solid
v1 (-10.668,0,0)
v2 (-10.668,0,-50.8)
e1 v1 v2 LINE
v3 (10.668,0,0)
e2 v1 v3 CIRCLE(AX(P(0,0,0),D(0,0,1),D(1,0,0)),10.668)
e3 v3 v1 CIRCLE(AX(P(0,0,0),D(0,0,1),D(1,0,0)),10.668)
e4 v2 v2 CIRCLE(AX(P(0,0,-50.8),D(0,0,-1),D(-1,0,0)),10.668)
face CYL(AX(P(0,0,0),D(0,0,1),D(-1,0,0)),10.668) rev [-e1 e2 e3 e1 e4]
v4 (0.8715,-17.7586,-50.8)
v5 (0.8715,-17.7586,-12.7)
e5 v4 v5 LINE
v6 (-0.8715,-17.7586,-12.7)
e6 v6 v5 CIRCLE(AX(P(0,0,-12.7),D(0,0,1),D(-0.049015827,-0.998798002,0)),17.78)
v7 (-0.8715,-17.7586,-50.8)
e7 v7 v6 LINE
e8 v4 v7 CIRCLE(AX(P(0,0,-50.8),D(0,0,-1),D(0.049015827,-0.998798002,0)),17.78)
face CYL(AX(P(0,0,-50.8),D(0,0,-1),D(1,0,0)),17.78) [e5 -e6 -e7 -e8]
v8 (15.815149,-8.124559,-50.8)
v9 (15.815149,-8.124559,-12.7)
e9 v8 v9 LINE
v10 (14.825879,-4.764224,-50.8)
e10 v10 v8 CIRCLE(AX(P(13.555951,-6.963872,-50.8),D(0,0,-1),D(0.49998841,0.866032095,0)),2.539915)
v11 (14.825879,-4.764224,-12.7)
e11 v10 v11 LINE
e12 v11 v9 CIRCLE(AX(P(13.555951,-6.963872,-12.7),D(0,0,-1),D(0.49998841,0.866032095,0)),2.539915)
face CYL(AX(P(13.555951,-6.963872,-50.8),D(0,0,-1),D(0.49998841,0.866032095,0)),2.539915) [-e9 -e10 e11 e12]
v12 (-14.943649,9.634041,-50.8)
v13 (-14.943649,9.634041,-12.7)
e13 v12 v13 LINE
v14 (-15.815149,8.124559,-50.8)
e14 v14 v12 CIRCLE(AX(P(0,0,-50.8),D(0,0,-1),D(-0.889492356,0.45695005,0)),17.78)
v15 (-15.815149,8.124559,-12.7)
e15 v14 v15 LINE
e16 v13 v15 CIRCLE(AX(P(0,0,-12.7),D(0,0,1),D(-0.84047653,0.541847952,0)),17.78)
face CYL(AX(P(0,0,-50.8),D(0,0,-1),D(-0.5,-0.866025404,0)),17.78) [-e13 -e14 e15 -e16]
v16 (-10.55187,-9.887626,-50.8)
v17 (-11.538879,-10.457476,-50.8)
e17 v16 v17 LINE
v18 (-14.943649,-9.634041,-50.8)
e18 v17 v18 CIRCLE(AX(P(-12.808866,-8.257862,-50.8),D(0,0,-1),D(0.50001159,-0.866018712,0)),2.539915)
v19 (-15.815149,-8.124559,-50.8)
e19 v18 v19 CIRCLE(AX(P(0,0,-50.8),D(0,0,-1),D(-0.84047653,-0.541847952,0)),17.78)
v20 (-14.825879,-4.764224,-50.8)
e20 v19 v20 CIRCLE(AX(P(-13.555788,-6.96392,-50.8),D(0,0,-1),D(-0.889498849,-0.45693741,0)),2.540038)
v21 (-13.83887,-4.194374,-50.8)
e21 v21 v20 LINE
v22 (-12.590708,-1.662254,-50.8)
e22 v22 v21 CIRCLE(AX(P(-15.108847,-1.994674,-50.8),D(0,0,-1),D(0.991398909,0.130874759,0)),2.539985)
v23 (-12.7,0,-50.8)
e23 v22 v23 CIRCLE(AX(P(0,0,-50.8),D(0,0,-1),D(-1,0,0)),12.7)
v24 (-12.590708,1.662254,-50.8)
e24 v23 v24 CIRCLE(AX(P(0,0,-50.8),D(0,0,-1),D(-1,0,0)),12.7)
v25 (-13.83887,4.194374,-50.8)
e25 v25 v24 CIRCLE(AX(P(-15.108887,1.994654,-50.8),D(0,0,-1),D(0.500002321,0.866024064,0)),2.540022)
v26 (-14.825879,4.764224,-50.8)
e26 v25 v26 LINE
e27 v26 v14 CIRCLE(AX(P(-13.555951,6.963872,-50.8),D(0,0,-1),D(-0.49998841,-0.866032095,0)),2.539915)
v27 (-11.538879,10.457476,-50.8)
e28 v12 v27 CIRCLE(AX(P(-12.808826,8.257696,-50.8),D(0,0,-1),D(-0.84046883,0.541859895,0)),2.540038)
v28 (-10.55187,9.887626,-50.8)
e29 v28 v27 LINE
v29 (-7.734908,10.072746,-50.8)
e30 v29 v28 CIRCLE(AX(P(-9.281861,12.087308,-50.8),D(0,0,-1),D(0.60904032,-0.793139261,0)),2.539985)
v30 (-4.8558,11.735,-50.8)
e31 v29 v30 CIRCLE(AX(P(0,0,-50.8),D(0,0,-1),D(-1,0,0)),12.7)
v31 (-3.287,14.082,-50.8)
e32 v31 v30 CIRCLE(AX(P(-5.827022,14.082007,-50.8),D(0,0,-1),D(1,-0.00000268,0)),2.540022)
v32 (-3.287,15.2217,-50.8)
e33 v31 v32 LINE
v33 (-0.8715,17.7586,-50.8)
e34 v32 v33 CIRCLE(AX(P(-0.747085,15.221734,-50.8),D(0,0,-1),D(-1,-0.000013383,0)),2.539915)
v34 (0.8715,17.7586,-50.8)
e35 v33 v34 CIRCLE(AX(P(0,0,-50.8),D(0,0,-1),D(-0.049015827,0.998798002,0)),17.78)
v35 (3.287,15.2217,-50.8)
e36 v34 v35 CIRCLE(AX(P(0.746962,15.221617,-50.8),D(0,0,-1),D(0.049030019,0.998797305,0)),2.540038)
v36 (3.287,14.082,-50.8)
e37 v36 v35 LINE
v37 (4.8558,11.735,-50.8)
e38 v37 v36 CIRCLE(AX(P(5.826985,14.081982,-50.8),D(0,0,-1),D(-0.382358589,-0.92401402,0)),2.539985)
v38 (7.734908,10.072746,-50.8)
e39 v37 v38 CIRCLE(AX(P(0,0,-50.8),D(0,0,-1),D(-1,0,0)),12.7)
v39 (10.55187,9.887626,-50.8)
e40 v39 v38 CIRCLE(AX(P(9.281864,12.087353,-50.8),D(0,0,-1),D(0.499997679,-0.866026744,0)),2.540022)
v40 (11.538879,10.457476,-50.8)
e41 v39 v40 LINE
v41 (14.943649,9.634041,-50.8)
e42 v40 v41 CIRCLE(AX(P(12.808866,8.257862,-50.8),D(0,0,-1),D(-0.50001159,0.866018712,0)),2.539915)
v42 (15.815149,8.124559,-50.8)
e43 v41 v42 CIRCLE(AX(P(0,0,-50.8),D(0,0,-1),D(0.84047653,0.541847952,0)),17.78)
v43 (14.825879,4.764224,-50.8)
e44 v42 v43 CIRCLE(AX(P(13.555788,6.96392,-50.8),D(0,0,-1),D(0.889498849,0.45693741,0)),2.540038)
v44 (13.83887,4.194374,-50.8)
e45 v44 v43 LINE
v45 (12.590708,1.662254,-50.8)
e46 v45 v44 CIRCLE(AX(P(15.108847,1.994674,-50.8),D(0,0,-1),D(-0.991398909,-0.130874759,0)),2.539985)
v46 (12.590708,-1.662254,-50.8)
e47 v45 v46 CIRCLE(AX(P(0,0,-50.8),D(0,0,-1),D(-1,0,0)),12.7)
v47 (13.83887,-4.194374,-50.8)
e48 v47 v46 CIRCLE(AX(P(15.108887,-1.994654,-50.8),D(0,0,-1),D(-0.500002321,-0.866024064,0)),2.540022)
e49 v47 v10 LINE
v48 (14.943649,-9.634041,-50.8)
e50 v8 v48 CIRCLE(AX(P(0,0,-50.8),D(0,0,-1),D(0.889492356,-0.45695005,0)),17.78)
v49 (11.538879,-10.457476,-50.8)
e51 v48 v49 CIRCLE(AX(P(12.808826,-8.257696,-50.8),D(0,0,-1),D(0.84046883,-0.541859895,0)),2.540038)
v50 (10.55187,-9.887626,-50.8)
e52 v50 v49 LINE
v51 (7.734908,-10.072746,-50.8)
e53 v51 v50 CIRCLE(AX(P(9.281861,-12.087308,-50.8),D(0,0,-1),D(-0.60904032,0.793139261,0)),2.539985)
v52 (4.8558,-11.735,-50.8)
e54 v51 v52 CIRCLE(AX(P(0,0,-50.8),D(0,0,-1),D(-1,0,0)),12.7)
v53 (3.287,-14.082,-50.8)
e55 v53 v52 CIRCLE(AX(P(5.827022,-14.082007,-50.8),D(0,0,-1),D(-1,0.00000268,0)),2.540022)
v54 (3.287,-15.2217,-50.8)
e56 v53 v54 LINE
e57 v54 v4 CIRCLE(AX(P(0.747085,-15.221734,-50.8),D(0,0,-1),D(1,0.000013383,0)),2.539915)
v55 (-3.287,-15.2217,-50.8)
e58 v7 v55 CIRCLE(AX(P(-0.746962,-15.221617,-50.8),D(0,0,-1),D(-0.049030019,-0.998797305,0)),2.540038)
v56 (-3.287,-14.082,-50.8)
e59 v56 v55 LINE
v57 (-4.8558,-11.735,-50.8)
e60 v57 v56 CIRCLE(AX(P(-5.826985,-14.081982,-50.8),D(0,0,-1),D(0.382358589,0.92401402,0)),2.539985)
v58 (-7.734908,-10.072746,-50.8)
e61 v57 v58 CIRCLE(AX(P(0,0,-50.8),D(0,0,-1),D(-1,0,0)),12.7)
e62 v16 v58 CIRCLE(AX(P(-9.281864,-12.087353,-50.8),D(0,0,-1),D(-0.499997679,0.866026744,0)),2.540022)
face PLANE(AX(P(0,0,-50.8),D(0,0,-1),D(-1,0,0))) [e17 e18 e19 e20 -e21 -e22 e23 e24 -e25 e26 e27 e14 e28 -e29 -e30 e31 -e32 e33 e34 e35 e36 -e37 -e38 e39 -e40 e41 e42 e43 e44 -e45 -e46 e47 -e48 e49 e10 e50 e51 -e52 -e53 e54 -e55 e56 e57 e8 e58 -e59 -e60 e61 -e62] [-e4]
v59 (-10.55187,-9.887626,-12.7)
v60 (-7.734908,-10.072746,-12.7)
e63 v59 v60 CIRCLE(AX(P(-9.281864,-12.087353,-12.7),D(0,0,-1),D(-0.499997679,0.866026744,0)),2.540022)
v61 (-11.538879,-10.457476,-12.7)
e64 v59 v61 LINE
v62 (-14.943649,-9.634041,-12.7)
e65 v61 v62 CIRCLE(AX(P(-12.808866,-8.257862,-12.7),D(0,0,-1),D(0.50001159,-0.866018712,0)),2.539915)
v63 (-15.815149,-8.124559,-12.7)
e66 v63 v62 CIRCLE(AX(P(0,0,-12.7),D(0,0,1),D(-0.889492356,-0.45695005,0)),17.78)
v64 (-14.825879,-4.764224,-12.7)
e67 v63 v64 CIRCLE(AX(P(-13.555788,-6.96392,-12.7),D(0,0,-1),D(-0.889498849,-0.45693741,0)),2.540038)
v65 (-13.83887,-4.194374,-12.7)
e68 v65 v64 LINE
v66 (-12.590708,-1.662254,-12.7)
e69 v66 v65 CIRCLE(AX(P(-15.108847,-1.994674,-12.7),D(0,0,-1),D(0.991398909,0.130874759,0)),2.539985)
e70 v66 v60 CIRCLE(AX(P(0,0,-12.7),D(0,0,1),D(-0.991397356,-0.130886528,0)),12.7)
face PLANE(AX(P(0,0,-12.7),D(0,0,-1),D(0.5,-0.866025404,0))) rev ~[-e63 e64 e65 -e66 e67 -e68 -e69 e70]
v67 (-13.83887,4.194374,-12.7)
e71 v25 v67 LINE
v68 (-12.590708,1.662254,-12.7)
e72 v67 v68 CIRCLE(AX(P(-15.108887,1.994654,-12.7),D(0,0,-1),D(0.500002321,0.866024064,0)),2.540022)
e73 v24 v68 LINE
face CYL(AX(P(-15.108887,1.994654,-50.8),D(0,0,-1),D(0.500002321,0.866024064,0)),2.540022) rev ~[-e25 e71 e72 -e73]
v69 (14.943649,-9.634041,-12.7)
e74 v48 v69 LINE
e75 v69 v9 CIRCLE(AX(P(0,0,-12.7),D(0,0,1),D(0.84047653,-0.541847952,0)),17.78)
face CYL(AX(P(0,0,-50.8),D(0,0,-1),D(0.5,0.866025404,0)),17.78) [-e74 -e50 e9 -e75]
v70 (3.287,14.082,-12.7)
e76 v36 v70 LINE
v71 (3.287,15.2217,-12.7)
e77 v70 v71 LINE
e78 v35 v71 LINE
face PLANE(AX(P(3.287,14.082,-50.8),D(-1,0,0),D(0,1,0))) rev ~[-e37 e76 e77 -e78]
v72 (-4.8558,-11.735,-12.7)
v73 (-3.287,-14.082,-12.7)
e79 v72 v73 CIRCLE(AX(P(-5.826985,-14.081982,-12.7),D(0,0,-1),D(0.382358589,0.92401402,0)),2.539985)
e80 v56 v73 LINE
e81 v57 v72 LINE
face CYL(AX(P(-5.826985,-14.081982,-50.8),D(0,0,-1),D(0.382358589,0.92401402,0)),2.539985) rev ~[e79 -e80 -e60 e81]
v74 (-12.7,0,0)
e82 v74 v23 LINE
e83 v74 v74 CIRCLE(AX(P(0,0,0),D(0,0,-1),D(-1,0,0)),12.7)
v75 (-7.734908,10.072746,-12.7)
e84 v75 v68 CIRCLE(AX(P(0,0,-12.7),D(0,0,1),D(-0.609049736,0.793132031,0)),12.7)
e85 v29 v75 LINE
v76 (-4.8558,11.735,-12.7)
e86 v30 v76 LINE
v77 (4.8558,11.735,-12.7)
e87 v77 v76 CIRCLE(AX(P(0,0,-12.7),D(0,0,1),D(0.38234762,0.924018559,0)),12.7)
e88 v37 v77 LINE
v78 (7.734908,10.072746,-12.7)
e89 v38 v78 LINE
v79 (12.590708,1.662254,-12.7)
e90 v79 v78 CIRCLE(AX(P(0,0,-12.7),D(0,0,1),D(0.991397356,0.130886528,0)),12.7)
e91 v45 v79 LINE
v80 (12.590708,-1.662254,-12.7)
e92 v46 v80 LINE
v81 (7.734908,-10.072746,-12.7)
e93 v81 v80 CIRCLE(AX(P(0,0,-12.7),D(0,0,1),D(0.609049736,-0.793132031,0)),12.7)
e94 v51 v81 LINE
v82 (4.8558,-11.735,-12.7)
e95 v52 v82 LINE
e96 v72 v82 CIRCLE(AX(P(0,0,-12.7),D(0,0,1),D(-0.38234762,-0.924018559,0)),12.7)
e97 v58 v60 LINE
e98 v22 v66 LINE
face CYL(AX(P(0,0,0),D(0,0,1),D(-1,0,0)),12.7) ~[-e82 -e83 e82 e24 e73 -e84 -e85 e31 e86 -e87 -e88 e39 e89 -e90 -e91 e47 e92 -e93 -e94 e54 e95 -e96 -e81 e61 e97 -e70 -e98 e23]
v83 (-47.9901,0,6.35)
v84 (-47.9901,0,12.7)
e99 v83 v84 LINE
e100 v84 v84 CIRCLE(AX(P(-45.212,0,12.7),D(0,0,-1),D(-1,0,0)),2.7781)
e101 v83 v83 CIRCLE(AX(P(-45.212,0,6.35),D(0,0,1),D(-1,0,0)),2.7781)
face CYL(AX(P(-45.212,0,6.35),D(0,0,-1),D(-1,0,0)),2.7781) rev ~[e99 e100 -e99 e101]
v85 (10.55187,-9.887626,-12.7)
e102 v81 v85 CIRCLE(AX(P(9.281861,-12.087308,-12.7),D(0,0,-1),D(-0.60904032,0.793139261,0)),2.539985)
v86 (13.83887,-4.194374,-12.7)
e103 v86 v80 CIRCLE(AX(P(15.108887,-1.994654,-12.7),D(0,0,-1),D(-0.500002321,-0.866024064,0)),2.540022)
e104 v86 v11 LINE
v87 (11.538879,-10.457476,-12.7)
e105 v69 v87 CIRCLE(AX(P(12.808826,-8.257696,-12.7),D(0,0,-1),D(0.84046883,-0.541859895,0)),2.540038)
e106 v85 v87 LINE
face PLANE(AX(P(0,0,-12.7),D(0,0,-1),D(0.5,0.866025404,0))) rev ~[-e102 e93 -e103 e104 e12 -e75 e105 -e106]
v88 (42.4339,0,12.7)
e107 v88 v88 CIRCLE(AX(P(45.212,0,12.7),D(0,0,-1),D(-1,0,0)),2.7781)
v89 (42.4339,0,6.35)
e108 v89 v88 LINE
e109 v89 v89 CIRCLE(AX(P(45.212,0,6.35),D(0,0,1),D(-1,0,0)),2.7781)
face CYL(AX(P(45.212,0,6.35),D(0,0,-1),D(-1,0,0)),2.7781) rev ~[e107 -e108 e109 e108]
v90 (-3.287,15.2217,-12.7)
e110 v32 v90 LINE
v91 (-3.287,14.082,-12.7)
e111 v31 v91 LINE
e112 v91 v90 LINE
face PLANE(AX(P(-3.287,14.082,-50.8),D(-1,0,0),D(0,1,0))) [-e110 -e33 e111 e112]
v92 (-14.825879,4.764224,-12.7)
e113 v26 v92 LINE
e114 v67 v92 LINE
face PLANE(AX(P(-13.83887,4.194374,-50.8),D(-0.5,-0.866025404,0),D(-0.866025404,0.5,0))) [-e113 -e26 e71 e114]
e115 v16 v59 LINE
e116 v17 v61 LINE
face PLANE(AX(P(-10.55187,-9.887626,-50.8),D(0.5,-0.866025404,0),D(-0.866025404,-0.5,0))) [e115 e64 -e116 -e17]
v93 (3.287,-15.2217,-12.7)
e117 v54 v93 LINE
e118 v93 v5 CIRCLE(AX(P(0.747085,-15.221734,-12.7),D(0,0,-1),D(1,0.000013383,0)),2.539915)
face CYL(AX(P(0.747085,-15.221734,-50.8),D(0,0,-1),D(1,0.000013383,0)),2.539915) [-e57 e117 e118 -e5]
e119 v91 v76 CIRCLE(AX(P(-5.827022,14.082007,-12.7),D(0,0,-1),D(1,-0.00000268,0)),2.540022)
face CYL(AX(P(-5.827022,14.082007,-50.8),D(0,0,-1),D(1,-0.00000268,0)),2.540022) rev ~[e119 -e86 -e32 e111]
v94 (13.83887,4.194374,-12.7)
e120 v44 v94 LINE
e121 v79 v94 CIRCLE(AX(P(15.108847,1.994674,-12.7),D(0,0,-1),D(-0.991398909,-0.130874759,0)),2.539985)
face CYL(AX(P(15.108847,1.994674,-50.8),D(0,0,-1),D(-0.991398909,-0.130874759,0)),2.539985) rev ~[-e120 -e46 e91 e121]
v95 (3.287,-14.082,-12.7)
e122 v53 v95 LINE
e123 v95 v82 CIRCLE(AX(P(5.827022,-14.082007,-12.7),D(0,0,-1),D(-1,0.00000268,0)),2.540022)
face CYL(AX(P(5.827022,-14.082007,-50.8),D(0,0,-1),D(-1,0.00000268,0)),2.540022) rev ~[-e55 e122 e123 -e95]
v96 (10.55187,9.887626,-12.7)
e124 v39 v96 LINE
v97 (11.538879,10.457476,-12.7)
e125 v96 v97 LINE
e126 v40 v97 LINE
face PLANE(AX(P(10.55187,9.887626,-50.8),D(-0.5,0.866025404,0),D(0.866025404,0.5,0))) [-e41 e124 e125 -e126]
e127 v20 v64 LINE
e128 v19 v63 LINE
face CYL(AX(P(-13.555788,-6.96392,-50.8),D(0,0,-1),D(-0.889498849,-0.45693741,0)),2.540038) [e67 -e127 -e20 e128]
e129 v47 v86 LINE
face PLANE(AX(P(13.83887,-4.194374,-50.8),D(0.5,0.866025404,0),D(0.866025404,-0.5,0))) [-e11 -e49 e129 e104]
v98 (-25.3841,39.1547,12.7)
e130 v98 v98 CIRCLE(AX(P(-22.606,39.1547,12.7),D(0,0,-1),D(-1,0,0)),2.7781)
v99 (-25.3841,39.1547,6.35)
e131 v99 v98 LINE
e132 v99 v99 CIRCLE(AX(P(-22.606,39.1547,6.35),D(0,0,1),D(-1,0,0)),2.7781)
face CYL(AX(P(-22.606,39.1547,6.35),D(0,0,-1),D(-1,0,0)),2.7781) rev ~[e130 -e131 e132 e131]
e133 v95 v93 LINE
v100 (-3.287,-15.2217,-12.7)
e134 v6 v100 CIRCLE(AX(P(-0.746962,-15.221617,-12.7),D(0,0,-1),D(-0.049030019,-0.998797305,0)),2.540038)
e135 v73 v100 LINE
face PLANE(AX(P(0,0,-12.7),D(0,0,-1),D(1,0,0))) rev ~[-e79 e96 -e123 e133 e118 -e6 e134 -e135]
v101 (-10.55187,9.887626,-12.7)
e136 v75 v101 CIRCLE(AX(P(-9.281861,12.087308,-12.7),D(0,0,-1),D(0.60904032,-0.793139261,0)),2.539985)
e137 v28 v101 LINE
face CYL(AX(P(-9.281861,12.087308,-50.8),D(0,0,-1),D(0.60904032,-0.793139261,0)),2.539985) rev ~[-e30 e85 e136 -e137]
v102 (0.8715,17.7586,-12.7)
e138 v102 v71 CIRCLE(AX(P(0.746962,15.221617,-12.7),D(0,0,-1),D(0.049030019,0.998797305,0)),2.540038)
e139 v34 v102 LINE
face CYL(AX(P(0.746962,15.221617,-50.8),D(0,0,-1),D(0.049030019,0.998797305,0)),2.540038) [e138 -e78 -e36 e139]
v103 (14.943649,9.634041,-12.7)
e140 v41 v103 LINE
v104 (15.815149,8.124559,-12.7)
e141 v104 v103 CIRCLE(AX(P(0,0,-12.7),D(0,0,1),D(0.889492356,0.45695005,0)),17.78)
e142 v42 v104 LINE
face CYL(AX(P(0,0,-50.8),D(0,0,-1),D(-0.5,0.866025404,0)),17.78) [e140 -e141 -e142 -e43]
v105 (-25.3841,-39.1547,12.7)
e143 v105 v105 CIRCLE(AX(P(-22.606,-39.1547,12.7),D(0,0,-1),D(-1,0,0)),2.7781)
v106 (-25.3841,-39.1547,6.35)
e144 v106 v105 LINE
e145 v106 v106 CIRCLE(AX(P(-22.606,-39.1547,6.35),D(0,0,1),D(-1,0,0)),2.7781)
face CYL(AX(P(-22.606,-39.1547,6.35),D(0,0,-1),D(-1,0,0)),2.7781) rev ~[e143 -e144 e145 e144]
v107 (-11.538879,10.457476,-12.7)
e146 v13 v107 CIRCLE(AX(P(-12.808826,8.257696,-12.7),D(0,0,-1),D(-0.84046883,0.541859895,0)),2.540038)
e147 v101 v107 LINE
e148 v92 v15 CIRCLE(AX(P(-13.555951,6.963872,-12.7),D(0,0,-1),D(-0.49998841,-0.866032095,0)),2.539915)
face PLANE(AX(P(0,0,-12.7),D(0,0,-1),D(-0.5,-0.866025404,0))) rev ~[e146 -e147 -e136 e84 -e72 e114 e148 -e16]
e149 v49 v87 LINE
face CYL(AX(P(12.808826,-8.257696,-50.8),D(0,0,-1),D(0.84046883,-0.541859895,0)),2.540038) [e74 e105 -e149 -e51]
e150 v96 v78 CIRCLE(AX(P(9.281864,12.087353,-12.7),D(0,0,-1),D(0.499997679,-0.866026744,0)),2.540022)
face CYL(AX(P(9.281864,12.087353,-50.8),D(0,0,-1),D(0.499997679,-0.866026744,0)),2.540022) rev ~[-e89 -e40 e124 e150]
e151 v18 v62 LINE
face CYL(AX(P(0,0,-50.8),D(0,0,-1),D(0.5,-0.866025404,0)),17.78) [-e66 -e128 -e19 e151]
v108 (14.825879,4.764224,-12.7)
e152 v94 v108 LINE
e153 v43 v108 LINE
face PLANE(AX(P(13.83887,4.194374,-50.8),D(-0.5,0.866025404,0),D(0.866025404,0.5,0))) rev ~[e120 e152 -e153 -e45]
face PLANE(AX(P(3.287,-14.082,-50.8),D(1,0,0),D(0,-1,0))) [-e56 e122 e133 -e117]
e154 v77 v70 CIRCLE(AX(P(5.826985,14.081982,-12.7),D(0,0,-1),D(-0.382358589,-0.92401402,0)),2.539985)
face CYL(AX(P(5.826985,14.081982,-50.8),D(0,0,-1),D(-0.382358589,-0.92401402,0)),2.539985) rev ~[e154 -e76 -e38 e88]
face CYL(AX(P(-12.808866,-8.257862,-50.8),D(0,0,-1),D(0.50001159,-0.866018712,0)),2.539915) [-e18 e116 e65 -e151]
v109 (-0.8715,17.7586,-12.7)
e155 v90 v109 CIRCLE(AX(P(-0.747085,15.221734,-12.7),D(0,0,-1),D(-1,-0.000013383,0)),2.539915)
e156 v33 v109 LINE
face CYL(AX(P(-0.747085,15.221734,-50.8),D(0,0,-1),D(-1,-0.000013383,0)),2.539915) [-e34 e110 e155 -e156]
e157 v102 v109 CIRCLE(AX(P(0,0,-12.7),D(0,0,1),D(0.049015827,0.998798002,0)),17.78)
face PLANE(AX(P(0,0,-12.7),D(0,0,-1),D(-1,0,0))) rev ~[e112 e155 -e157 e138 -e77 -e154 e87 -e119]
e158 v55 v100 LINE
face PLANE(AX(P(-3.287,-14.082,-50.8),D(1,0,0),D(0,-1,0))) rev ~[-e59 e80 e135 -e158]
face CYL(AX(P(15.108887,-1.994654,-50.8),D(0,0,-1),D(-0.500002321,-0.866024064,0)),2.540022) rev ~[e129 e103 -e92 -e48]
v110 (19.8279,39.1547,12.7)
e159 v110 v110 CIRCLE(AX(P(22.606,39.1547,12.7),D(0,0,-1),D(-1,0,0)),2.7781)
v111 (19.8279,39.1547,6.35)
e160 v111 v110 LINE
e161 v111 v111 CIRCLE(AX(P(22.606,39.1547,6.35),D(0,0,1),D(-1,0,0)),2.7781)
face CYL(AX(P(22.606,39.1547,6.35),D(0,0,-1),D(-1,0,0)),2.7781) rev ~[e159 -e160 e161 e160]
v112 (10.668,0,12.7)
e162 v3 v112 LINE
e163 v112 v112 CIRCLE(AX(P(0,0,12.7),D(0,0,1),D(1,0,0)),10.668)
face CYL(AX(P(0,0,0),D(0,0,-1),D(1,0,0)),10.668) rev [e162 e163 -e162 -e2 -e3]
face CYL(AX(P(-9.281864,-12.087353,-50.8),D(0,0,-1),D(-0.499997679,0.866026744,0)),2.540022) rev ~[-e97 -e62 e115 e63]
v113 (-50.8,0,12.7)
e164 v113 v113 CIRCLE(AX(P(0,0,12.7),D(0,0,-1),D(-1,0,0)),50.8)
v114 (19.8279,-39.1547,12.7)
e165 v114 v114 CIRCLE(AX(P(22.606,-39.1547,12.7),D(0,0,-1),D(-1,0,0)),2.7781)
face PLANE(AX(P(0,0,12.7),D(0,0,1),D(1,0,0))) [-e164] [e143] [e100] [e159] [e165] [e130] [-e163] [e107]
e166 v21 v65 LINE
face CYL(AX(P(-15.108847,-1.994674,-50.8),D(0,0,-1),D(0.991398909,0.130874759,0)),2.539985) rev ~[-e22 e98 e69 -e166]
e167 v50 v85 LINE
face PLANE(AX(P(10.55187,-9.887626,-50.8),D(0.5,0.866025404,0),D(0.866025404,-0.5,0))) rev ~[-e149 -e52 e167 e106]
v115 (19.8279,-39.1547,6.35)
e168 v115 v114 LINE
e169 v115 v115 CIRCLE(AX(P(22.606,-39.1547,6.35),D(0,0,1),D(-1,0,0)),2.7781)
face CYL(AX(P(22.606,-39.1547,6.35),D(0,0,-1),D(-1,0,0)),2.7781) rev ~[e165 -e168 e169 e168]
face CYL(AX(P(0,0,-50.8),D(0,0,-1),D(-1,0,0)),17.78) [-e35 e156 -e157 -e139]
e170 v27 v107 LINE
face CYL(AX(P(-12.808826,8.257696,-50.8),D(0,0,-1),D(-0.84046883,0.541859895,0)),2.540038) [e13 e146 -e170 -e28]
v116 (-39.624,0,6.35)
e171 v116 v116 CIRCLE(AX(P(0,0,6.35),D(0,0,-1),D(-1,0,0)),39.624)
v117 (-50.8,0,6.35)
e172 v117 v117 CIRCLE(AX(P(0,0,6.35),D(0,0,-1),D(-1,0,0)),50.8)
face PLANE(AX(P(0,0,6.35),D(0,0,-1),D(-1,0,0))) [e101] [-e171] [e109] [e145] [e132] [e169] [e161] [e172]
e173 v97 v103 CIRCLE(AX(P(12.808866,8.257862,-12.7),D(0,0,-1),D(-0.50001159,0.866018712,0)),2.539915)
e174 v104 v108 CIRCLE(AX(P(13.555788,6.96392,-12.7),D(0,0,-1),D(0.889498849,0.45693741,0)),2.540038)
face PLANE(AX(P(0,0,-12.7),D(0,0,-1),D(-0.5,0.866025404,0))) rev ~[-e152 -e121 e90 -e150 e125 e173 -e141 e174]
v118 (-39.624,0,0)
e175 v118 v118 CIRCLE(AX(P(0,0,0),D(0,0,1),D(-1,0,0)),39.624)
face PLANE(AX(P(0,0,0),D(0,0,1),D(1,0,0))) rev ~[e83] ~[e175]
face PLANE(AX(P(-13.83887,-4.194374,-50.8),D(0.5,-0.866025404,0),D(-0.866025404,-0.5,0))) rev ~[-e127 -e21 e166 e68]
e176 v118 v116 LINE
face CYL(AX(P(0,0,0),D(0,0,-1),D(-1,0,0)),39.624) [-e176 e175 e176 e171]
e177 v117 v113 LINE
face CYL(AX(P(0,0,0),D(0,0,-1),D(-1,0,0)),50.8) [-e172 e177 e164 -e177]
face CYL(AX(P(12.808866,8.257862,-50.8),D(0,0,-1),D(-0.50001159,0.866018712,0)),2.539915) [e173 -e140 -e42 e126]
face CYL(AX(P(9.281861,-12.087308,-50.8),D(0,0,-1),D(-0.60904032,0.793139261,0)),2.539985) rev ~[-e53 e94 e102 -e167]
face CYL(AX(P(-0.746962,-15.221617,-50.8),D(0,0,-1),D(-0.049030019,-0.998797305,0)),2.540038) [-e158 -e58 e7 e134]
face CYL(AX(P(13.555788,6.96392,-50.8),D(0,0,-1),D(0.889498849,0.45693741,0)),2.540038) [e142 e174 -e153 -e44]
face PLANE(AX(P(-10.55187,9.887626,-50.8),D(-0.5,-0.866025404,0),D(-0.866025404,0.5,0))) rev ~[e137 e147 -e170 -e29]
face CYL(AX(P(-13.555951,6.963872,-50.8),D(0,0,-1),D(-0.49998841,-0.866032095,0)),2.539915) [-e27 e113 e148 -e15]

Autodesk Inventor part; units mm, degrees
ref_plane "YZ Plane" through (0, 0, 0) normal (1, 0, 0) x (0, 1, 0)
ref_plane "XZ Plane" through (0, 0, 0) normal (0, 1, 0) x (-1, 0, 0)
ref_plane "XY Plane" through (0, 0, 0) normal (0, 0, 1) x (1, 0, 0)
sketch "Sketch1" plane through (0, 0, 0) normal (0, 0, 1) x (1, 0, 0)
  circle A0 centre (0, 0) radius 39.624
  circle A1 centre (0, 0) radius 10.668
  dimension "d0" = 79.248
  dimension "d1" = 21.336
extrude "Extrusion1" add sketch "Sketch1" along normal blind 12.7
sketch "Sketch2" plane through (0, 0, 0) normal (0, 0, -1) x (-1, 0, 0)
  circle A0 centre (0, 0) radius 39.624
  circle A1 centre (0, 0) radius 50.8
  line L0 (0, 0) -> (0, 50.8)
  circle A2 centre (0, 0) radius 39.624 projected
  line L1 (0, 0) -> (25.4, 43.9941)
  line L2 (-50.8, 0) -> (50.8, 0)
  line L3 (0, 0) -> (-25.4, 43.9941)
  line L4 (0, 0) -> (25.4, -43.9941)
  line L5 (0, 0) -> (-25.4, -43.9941)
  circle A3 centre (22.606, 39.1547) radius 2.7781
  circle A4 centre (45.212, 0) radius 2.7781
  circle A5 centre (-22.606, 39.1547) radius 2.7781
  circle A6 centre (-45.212, 0) radius 2.7781
  circle A7 centre (22.606, -39.1547) radius 2.7781
  circle A8 centre (-22.606, -39.1547) radius 2.7781
  dimension "d4" = 79.248
  dimension "d5" = 101.6
  dimension "d38" = 30
  dimension "d39" = 45.212
  dimension "d40" = 45.212
  dimension "d41" = 5.5563
  dimension "d42" = 5.5563
extrude "Extrusion2" add sketch "Sketch2" against normal blind 12.7 contours L2 A4 A1 L4 A7 A0 | A0 L1 A3 A1 L2 A4 | A0 L0 A1 L1 A3 | L4 A7 A1 L5 A8 A0 | A4 L2 | L2 A4 | A0 L3 A5 A1 L0 | A3 L1 | L1 A3 | L5 A8 A1 L2 A6 A0 | A7 L4 | L4 A7 | L2 A6 A1 L3 A5 A0 | A8 L5 | L5 A8 | A6 L2 | L2 A6 | A5 L3 | L3 A5
sketch "Sketch3" plane through (0, 0, 0) normal (0, 0, -1) x (-1, 0, 0)
  circle A0 centre (0, 0) radius 10.668
  circle A1 centre (0, 0) radius 12.7
  dimension "d21" = 21.336
  dimension "d22" = 25.4
extrude "Extrusion3" add sketch "Sketch3" along normal blind 50.8
sketch "Sketch4" plane through (0, 0, -50.8) normal (0, 0, -1) x (-1, 0, 0)
  circle A0 centre (0, 0) radius 12.7
  circle A1 centre (0, 0) radius 17.78
  line L0 (0, 0) -> (0, 17.78)
  line L1 (0, 0) -> (3.287, 12.2673)
  circle A2 centre (0, 0) radius 12.7 projected
  line L2 (0, 0) -> (-3.287, 12.2673)
  line L3 (3.287, 12.2673) -> (3.287, 17.4735)
  line L4 (-3.287, 12.2673) -> (-3.287, 17.4735)
  arc A3 (3.287, 14.082) -> (4.8558, 11.735) centre (5.827, 14.082) ccw
  arc A4 (3.287, 15.2217) -> (0.8715, 17.7586) centre (0.747, 15.2217) ccw
  arc A5 (-0.8715, 17.7586) -> (-3.287, 15.2217) centre (-0.747, 15.2217) ccw
  arc A6 (-4.8558, 11.735) -> (-3.287, 14.082) centre (-5.827, 14.082) ccw
  point P0 (-4.8558, 11.735)
  point P1 (4.8558, 11.735)
  dimension "d25" = 25.4
  dimension "d26" = 35.56
  dimension "d27" = 15
  dimension "d28" = 15
  dimension "d29" = 2.54
  dimension "d30" = 2.54
  dimension "d31" = 2.54
  dimension "d32" = 2.54
extrude "Extrusion4" add sketch "Sketch4" against normal blind 38.1 contours A0 L3 A3 | A6 L4 A0 | A0 L0 A1 A4 L3 | L4 A5 A1 L0 A0
pattern_circular "Circular Pattern2" count 6 over 360 about axis through (0, 0, 0) along (0, 0, -1) of "Extrusion4"
sketch "Sketch5" plane through (0, 0, 0) normal (0, 0, -1) x (-1, 0, 0)
  circle A0 centre (0, 0) radius 39.624
  circle A1 centre (0, 0) radius 50.8
  line L0 (0, 0) -> (0, 50.8)
  circle A2 centre (0, 0) radius 39.624
  line L1 (0, 0) -> (25.4, 43.9941)
  line L2 (-50.8, 0) -> (50.8, 0)
  line L3 (0, 0) -> (-25.4, 43.9941)
  line L4 (0, 0) -> (25.4, -43.9941)
  line L5 (0, 0) -> (-25.4, -43.9941)
  circle A3 centre (22.606, 39.1547) radius 2.7781
  circle A4 centre (45.212, 0) radius 2.7781
  circle A5 centre (-22.606, 39.1547) radius 2.7781
  circle A6 centre (-45.212, 0) radius 2.7781
  circle A7 centre (22.606, -39.1547) radius 2.7781
  circle A8 centre (-22.606, -39.1547) radius 2.7781
  dimension "d43" = 79.248
  dimension "d44" = 101.6
  dimension "d45" = 30
  dimension "d46" = 45.212
  dimension "d47" = 45.212
  dimension "d48" = 5.5563
  dimension "d49" = 5.5563
extrude "Extrusion5" cut sketch "Sketch5" against normal blind 6.35 contours L2 A4 A1 L4 A7 A0 | A0 L1 A3 A1 L2 A4 | A0 L0 A1 L1 A3 | L4 A7 A1 L5 A8 A0 | A4 L2 | L2 A4 | A0 L3 A5 A1 L0 | A3 L1 | L1 A3 | L5 A8 A1 L2 A6 A0 | A7 L4 | L4 A7 | L2 A6 A1 L3 A5 A0 | A8 L5 | L5 A8 | A6 L2 | L2 A6 | A5 L3 | L3 A5
sketch "Sketch6" plane through (0, 0, 6.35) normal (0, 0, -1) x (-1, 0, 0)
  circle A0 centre (0, 0) radius 39.624
  circle A1 centre (0, 0) radius 50.8
  line L0 (0, 0) -> (0, 50.8)
  circle A2 centre (0, 0) radius 39.624
  line L1 (0, 0) -> (25.4, 43.9941)
  line L2 (-50.8, 0) -> (50.8, 0)
  line L3 (0, 0) -> (-25.4, 43.9941)
  line L4 (0, 0) -> (25.4, -43.9941)
  line L5 (0, 0) -> (-25.4, -43.9941)
  circle A3 centre (22.606, 39.1547) radius 2.7781
  circle A4 centre (45.212, 0) radius 2.7781
  circle A5 centre (-22.606, 39.1547) radius 2.7781
  circle A6 centre (-45.212, 0) radius 2.7781
  circle A7 centre (22.606, -39.1547) radius 2.7781
  circle A8 centre (-22.606, -39.1547) radius 2.7781
  dimension "d53" = 79.248
  dimension "d54" = 101.6
  dimension "d55" = 30
  dimension "d56" = 45.212
  dimension "d57" = 45.212
  dimension "d58" = 5.5563
  dimension "d59" = 5.5563
extrude "Extrusion6" cut sketch "Sketch6" against normal blind 6.35 contours A4 L2 | L2 A4 | A3 L1 | L1 A3 | A7 L4 | L4 A7 | A8 L5 | L5 A8 | A6 L2 | L2 A6 | A5 L3 | L3 A5
equation "\"d0\" = 19.812 * scale"
equation "\"d2\" = 3.175 * scale"
equation "\"d4\" = 19.812 * scale"
equation "\"d5\" = 25.4 * scale"
equation "\"d39\" = 11.303 * scale"
equation "\"d40\" = 11.303 * scale"
equation "\"d16\" = 3.175 * scale"
equation "\"d23\" = 12.7 * scale"
equation "\"d29\" = 0.635 * scale"
equation "\"d30\" = 0.635 * scale"
equation "\"d31\" = 0.635 * scale"
equation "\"d32\" = 0.635 * scale"
equation "\"d33\" = 9.525 * scale"
equation "\"d43\" = 19.812 * d50"
equation "\"d44\" = 25.4 * d50"
equation "\"d46\" = 11.303 * d50"
equation "\"d47\" = 11.303 * d50"
equation "\"d51\" = 1.5875 * scale"
equation "\"d53\" = 19.812 * d60"
equation "\"d54\" = 25.4 * d60"
equation "\"d56\" = 11.303 * d60"
equation "\"d57\" = 11.303 * d60"
equation "\"d61\" = 1.5875 * scale"
equation "\"radius\" = 3.175"
equation "\"scale\" = 4"
equation "\"d50\" = 4"
equation "\"d60\" = 4"
properties part number "Rotor_Mount" material "Stainless Steel"
